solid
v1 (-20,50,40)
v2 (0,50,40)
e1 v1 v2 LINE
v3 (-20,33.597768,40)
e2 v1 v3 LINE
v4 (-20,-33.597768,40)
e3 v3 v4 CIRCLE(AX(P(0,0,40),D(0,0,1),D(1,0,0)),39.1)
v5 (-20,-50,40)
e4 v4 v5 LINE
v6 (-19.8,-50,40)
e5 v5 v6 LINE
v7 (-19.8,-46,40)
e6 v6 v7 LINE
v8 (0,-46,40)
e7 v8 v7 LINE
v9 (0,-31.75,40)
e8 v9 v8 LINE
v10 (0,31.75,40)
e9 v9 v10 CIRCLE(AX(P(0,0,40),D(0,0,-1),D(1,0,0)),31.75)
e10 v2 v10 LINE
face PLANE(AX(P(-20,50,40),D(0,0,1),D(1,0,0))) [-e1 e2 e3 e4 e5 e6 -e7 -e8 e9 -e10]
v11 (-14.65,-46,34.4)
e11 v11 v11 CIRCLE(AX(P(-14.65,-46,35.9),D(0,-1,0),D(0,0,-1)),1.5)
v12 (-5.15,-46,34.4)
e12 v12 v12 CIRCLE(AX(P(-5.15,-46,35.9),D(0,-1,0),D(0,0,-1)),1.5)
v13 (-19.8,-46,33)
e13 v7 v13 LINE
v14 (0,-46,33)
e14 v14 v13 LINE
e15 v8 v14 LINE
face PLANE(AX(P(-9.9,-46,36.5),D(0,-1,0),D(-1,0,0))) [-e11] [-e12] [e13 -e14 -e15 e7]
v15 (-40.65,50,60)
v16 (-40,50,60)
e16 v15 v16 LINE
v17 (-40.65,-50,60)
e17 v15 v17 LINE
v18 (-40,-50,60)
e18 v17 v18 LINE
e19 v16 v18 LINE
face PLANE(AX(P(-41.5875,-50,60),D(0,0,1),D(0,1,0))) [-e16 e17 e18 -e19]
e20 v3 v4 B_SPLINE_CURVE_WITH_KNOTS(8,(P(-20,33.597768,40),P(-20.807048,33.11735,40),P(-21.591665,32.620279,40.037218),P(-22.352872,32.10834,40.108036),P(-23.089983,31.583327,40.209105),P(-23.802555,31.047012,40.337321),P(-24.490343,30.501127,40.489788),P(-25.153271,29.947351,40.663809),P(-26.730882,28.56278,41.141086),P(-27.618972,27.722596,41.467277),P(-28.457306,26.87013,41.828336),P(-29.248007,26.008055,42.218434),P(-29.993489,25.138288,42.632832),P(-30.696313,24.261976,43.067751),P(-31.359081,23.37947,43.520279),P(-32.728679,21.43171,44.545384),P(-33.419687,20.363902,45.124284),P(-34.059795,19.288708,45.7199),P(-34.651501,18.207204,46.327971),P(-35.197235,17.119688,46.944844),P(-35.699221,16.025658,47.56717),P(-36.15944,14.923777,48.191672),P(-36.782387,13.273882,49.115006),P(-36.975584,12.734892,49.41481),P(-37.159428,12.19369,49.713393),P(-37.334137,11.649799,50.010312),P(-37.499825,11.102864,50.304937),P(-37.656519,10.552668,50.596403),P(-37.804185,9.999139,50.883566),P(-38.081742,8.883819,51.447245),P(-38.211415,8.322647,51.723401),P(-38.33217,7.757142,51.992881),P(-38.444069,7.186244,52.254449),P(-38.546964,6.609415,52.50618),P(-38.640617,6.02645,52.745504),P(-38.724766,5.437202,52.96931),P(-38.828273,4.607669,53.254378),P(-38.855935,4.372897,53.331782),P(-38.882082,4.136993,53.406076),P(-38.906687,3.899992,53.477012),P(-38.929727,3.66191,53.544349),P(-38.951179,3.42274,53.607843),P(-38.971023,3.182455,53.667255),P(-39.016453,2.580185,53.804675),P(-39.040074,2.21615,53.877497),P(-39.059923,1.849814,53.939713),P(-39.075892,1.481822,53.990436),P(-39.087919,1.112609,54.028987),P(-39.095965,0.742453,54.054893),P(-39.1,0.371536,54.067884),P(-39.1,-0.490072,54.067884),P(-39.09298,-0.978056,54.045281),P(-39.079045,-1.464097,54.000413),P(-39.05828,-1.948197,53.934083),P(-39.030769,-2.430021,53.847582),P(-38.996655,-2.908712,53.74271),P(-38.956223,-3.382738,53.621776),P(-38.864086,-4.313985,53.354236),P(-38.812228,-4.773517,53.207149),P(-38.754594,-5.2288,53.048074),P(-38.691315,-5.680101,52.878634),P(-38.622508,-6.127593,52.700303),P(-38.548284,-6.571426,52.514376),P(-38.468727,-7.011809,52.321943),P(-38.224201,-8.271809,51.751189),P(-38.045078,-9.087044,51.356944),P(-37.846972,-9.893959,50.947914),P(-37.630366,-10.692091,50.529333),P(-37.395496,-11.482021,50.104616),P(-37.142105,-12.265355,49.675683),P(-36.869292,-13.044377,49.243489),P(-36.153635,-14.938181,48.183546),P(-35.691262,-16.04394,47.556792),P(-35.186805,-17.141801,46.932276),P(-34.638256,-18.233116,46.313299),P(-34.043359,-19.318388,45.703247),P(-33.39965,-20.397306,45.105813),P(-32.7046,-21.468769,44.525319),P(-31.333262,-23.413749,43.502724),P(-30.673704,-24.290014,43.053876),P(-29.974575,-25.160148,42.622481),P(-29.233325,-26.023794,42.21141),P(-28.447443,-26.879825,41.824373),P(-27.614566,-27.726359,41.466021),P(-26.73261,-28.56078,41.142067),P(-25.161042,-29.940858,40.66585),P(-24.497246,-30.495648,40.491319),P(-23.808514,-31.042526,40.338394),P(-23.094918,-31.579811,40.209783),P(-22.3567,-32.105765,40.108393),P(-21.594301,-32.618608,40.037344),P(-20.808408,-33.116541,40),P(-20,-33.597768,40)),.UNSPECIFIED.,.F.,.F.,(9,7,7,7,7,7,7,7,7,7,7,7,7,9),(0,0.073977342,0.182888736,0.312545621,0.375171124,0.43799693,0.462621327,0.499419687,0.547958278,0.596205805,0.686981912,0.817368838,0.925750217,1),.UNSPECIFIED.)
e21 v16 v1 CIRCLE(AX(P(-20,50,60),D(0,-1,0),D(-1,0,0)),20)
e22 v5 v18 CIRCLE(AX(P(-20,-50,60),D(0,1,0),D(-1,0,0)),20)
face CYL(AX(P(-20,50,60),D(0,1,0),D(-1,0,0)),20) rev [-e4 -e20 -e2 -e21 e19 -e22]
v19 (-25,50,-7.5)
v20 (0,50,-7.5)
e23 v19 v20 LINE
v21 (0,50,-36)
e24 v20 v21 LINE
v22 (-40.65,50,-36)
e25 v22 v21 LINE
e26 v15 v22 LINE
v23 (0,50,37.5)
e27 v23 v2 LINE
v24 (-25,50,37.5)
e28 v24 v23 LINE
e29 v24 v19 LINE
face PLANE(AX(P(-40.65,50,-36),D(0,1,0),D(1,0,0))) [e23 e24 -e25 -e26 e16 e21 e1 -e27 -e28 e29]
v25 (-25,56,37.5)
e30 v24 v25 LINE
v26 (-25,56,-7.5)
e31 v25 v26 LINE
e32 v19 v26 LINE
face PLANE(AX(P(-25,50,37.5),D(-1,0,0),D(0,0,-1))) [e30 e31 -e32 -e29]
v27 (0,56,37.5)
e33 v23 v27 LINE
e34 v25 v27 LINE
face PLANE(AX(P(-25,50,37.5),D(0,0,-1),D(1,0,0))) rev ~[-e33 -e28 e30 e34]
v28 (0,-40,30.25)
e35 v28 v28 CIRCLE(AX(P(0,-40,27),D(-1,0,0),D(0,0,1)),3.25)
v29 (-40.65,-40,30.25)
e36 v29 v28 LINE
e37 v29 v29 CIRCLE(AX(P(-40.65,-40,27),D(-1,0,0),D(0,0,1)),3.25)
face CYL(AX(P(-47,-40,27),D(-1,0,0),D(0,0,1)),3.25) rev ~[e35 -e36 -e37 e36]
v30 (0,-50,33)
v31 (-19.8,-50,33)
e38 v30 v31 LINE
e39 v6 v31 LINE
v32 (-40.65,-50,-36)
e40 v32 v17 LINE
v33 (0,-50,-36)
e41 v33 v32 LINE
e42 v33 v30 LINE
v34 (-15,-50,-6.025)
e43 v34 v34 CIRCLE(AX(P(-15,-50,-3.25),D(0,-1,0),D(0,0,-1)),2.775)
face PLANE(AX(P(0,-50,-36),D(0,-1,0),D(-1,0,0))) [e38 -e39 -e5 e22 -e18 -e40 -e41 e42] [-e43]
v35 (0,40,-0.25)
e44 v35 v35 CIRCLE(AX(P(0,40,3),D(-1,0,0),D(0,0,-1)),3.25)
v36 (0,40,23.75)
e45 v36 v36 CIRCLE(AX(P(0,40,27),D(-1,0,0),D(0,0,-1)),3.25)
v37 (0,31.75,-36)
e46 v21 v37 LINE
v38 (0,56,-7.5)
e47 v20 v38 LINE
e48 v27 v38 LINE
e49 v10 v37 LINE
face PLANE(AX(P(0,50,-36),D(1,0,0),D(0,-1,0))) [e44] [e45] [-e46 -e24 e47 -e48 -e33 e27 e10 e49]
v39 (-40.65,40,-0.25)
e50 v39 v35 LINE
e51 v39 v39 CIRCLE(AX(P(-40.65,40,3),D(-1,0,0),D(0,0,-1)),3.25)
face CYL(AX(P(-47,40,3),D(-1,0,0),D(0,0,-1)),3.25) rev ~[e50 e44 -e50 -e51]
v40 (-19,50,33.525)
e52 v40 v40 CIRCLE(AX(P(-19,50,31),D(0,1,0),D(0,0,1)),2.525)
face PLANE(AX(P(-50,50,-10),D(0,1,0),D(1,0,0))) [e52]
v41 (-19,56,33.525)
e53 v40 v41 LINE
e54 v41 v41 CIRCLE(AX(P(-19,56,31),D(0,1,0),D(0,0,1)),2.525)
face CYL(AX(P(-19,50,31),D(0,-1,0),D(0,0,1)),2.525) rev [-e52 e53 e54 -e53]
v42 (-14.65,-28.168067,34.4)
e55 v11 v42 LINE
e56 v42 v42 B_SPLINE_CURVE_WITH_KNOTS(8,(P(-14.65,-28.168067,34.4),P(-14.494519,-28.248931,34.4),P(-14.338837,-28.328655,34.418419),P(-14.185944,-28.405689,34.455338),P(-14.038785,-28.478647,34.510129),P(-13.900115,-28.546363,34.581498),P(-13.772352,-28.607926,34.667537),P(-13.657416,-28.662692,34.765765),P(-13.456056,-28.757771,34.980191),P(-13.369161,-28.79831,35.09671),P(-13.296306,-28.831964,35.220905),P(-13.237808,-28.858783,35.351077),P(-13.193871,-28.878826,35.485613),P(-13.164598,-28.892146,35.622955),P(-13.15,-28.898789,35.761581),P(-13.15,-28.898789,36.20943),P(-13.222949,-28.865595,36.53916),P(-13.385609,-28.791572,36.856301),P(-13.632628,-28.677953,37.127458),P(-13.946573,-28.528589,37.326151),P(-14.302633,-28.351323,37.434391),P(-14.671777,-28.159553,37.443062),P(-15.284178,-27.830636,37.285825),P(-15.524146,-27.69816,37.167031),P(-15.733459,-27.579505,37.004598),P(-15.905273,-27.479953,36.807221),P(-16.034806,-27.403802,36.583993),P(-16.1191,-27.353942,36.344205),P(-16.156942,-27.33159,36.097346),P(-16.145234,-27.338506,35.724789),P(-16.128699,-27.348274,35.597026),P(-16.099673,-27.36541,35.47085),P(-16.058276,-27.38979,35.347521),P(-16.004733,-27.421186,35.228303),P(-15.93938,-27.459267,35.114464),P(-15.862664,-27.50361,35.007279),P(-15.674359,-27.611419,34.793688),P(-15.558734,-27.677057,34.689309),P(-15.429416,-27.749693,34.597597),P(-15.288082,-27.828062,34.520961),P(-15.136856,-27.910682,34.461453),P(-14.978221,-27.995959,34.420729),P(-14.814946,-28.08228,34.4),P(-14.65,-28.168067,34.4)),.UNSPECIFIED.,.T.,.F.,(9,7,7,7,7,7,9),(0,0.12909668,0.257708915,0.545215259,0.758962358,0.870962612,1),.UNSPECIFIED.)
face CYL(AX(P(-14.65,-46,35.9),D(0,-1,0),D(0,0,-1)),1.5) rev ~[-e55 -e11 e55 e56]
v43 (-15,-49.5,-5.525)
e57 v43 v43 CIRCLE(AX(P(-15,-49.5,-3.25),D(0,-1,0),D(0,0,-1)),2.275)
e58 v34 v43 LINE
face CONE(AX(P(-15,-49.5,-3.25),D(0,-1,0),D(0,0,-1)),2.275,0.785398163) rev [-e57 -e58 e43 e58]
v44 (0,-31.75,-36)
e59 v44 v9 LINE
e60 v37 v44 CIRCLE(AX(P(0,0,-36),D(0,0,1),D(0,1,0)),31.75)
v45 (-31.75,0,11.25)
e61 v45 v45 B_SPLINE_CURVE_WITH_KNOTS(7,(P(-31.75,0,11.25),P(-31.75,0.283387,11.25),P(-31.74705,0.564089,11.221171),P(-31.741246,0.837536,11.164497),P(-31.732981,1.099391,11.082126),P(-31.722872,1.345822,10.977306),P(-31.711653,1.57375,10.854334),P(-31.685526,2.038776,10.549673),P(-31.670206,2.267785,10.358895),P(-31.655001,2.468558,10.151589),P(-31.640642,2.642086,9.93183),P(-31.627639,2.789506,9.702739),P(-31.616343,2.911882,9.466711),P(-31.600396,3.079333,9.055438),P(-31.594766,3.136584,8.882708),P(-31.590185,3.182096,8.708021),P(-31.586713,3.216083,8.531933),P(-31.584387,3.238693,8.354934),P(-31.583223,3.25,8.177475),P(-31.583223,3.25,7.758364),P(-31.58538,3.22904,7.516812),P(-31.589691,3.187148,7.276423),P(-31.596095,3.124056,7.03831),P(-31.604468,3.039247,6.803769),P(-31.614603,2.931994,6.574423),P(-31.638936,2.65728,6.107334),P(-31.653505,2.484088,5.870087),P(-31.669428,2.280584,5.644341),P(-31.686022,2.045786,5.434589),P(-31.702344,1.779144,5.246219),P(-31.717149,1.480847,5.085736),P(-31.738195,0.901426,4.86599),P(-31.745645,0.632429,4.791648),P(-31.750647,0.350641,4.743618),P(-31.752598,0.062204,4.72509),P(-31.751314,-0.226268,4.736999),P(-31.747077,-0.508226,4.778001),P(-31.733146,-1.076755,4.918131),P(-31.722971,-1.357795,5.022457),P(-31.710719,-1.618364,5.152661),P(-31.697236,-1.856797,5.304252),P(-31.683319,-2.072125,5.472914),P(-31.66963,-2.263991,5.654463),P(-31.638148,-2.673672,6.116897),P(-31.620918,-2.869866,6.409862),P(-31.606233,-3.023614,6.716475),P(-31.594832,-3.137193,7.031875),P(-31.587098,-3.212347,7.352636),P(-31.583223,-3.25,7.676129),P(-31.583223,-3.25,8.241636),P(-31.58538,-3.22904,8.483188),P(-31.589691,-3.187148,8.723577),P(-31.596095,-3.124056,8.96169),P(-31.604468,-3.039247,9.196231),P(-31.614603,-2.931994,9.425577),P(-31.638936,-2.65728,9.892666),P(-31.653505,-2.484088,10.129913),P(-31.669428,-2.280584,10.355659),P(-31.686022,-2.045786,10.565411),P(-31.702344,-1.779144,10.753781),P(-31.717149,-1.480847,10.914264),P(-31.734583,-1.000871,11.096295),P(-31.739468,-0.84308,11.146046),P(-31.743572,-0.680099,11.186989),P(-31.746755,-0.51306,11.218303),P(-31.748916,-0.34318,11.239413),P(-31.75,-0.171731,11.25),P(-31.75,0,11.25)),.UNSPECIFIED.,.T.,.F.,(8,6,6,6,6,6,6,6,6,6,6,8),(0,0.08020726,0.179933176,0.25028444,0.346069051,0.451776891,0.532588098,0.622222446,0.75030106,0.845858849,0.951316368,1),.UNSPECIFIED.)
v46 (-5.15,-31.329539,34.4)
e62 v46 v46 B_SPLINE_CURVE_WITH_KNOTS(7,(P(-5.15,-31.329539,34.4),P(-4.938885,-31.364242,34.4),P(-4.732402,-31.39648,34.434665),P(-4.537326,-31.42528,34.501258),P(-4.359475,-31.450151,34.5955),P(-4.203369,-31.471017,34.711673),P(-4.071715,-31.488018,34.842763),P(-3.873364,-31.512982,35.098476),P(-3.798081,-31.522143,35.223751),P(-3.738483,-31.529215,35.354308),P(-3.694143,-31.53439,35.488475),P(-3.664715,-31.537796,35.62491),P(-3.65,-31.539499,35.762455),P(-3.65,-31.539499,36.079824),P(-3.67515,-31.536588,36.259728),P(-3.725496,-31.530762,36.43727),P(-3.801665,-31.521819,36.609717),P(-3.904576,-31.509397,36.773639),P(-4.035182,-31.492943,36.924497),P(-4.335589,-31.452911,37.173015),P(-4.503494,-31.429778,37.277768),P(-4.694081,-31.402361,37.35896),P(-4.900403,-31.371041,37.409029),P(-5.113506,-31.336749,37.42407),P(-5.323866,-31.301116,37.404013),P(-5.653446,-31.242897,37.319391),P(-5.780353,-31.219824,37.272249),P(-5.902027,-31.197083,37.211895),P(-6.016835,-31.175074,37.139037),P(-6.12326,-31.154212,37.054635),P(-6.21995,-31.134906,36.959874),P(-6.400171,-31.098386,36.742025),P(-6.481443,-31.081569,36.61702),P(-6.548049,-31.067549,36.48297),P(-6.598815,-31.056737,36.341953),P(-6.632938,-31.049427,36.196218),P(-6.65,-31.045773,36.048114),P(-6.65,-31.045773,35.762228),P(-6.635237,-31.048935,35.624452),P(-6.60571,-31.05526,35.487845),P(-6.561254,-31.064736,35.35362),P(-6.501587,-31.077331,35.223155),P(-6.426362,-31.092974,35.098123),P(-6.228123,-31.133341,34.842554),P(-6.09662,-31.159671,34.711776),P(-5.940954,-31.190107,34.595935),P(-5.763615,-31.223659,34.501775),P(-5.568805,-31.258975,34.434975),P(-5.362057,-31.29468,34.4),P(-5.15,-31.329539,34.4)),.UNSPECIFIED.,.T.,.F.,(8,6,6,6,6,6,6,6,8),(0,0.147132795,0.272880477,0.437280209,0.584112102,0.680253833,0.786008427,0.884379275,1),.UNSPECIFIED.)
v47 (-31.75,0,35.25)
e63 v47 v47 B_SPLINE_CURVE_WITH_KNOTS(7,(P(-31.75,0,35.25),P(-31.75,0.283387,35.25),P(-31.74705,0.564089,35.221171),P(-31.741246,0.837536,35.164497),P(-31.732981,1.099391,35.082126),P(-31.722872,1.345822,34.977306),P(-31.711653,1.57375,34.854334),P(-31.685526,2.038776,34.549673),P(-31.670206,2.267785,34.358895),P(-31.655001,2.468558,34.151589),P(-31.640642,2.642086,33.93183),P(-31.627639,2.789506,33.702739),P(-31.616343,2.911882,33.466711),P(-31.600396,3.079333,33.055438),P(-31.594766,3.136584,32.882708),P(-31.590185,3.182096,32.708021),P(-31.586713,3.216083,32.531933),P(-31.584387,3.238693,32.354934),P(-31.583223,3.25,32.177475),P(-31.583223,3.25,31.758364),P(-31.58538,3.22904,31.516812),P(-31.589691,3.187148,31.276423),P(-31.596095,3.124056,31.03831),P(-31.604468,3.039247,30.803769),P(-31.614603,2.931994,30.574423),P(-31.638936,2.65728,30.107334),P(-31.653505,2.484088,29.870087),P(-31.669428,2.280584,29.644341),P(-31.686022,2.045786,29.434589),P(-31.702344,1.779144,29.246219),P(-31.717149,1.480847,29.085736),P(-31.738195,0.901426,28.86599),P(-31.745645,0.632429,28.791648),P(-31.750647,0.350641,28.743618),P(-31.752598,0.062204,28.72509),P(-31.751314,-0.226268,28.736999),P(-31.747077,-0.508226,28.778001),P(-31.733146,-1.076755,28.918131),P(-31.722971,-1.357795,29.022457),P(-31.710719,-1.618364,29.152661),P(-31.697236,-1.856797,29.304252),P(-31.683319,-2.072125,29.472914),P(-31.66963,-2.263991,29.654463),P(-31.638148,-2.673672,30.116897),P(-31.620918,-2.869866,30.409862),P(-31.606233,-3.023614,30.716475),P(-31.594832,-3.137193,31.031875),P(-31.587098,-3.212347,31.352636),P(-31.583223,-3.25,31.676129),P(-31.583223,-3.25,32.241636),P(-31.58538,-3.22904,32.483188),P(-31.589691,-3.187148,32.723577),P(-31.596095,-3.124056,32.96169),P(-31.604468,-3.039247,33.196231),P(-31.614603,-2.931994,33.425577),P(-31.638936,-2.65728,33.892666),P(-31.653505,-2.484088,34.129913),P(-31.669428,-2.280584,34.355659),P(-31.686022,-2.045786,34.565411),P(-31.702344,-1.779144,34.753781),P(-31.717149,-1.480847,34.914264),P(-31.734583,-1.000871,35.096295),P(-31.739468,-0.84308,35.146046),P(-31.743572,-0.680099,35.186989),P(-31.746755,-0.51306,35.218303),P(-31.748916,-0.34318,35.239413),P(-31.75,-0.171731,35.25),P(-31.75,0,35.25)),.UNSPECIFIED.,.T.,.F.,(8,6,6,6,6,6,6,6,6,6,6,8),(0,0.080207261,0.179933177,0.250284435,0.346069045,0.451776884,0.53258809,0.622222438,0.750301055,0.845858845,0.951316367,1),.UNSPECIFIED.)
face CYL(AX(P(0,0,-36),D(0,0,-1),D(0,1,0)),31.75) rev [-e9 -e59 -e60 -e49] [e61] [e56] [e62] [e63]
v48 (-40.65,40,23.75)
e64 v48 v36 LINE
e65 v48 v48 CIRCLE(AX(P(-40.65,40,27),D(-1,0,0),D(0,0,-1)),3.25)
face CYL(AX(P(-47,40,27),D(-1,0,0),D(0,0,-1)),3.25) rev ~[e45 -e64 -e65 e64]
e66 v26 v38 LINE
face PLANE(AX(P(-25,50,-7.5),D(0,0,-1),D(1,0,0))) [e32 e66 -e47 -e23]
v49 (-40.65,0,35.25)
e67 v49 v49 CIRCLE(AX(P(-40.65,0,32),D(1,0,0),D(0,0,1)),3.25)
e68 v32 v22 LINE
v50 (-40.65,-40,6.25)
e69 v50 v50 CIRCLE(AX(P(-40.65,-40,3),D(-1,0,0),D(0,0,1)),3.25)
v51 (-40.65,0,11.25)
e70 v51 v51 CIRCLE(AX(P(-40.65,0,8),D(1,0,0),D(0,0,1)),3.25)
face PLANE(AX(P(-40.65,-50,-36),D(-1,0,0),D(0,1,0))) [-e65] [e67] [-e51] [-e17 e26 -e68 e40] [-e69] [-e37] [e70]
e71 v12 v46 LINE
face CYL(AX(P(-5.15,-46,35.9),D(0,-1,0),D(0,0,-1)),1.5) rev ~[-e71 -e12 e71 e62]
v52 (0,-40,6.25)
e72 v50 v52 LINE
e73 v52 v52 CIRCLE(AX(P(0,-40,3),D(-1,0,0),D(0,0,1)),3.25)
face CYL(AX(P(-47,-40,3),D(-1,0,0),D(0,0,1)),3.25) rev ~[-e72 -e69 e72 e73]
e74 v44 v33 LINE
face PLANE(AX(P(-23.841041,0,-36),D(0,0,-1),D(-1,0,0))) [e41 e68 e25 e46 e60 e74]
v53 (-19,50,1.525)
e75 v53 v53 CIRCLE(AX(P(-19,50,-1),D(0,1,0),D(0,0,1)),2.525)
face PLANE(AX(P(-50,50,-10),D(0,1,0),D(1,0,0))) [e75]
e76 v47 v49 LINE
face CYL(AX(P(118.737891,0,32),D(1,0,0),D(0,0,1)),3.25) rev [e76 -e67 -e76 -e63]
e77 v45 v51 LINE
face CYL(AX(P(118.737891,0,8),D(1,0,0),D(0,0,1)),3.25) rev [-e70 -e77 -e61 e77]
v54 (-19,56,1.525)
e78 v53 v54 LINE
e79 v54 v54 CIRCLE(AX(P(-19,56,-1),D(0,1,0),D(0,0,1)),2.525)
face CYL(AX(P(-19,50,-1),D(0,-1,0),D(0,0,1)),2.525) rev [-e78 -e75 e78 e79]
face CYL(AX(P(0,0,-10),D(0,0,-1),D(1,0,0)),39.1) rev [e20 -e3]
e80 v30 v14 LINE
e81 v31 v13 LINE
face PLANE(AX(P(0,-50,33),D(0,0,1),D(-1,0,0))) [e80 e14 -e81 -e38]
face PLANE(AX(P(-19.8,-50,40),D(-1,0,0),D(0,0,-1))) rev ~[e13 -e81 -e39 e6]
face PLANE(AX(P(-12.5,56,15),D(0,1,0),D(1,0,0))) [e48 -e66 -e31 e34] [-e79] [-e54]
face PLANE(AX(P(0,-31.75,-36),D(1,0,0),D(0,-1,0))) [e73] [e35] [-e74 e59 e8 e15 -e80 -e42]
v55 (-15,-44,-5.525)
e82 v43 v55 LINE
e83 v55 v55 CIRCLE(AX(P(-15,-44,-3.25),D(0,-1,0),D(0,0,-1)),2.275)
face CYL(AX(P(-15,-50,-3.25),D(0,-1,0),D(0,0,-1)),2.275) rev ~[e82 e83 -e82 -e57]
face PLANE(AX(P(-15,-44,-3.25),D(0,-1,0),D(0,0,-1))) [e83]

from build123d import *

# Parameters (mm, degrees)
CENTRE_HOLE_FOR_L2_DEPTH      = 40
CENTRE_HOLE_FOR_L2_DEPTH_BACK = 10
SKETCH1_R                     = 39.1
SKETCH1_R_2                   = 31.75
MAIN_STRUCTURE_DEPTH          = 60
MAIN_STRUCTURE_DEPTH_BACK     = 50
SKETCH2_W                     = 100
SKETCH2_H                     = 100
SKETCH2_R                     = 39.1
BEARING_CURVE_DEPTH           = 10
SKETCH6_R                     = 10.5
SHAFT_HOLE_DEPTH              = 10
WRIST_CUTOUT_DEPTH            = 188.082869339
SKETCH11_W                    = 25
SKETCH11_H                    = 45
SKETCH11_R                    = 2.525
BOSS_EXTRUDE1_DEPTH           = 6
SKETCH15_W                    = 19.8
SKETCH15_H                    = 7
CUT_EXTRUDE4_DEPTH            = 4
CUT_EXTRUDE5_REACH            = 190.16
CUT_EXTRUDE5_END_RADIUS       = 31.75
SKETCH16_R                    = 1.5
CUT_EXTRUDE6_DEPTH            = 168.7378908
CUT_EXTRUDE6_DEPTH_BACK       = 168.7378908
SKETCH18_R                    = 3.25
CUT_EXTRUDE7_START            = -1.5875
CUT_EXTRUDE7_DEPTH            = 1.5875
SKETCH9_R                     = 12.05
BEARING_DEPTH                 = 5
CUT_EXTRUDE8_DEPTH            = 3
SKETCH21_R                    = 3.25
SKETCH21_R_2                  = 1.65
CUT_EXTRUDE9_DEPTH            = 167.868211501
CUT_EXTRUDE10_DEPTH           = 6.35
SKETCH23_R                    = 2.275
CUT_EXTRUDE11_DEPTH           = 6
CHAMFER1_SIZE                 = 0.5
BOSS_EXTRUDE2_START           = 26
BOSS_EXTRUDE2_DEPTH           = 26


with BuildPart() as part:
    # Sketch1 → Centre Hole for L2 (new, two sides: drawn at the far end of the back side and taken through both)
    with BuildSketch(Plane.XY.offset(-CENTRE_HOLE_FOR_L2_DEPTH_BACK)):
        Circle(SKETCH1_R)
        Circle(SKETCH1_R_2, mode=Mode.SUBTRACT)
    extrude(amount=CENTRE_HOLE_FOR_L2_DEPTH + CENTRE_HOLE_FOR_L2_DEPTH_BACK)

    # Sketch2 → Main Structure (add, two sides: drawn at the far end of the back side and taken through both)
    with BuildSketch(Plane.XY.offset(40).offset(-MAIN_STRUCTURE_DEPTH_BACK)):
        Rectangle(SKETCH2_W, SKETCH2_H)
        Circle(SKETCH2_R, mode=Mode.SUBTRACT)
    extrude(amount=MAIN_STRUCTURE_DEPTH + MAIN_STRUCTURE_DEPTH_BACK)

    # Sketch3 → Bearing Curve (add)
    with BuildSketch(Plane.ZY.offset(50)):
        with BuildLine():
            Line((100, 50), (100, -50))
            ThreePointArc((100, -50), (150, 0), (100, 50))
        make_face()
    bearing_curve = extrude(amount=-BEARING_CURVE_DEPTH)

    # Upright Mirror: Bearing Curve across plane
    add(bearing_curve.mirror(Plane(origin=(0, 0, 0), x_dir=(0, 0, 1), z_dir=(1, 0, 0))))

    # Sketch6 → Shaft Hole (cut)
    with BuildSketch(Plane.ZY.offset(50)):
        with Locations((100, 0)):
            Circle(SKETCH6_R)
    extrude(amount=-SHAFT_HOLE_DEPTH, mode=Mode.SUBTRACT)

    # Sketch4 → Wrist Cutout (cut, through all)
    with BuildSketch(Plane(origin=(0, 50, 0), x_dir=(1, 0, 0), z_dir=(0, 1, 0))):
        with BuildLine():
            Line((-40, -100), (-40, -60))
            ThreePointArc((-40, -60), (-34.142135624, -45.857864376), (-20, -40))
            Line((-20, -40), (20, -40))
            ThreePointArc((20, -40), (34.142135624, -45.857864376), (40, -60))
            Line((40, -60), (40, -100))
            Line((40, -100), (-40, -100))
        make_face()
    extrude(amount=-WRIST_CUTOUT_DEPTH, mode=Mode.SUBTRACT)

    # SurfaceCut1
    split(bisect_by=Plane.ZY, keep=Keep.TOP)

    # Sketch11 → Boss-Extrude1 (add)
    with BuildSketch(Plane(origin=(0, 50, 0), x_dir=(1, 0, 0), z_dir=(0, 1, 0))):
        with Locations((-12.5, -15)):
            Rectangle(SKETCH11_W, SKETCH11_H)
        with Locations(Location((-19, 1, 0), (0, 0, 270))):
            Circle(SKETCH11_R, mode=Mode.SUBTRACT)
        with Locations(Location((-19, -31, 0), (0, 0, 270))):
            Circle(SKETCH11_R, mode=Mode.SUBTRACT)
    extrude(amount=BOSS_EXTRUDE1_DEPTH)

    # Sketch15 → Cut-Extrude4 (cut)
    with BuildSketch(Plane(origin=(0, -50, 0), x_dir=(-1, 0, 0), z_dir=(0, -1, 0))):
        with Locations((9.9, -36.5)):
            Rectangle(SKETCH15_W, SKETCH15_H)
    extrude(amount=-CUT_EXTRUDE4_DEPTH, mode=Mode.SUBTRACT)

    # Cut-Extrude5: up to this cylinder (the profile starts outside it)
    cut_extrude5_end = Plane(origin=(0, 0, 35.9), z_dir=(0, 0, 1)) * Cylinder(CUT_EXTRUDE5_END_RADIUS, 444.82, mode=Mode.PRIVATE)
    # Sketch16 → Cut-Extrude5 (cut, up to the surface)
    with BuildSketch(Plane(origin=(0, -46, 0), x_dir=(-1, 0, 0), z_dir=(0, -1, 0)), mode=Mode.PRIVATE) as cut_extrude5_sk1:
        with Locations(Location((14.65, -35.9, 0), (0, 0, 90))):
            Circle(SKETCH16_R)
    cut_extrude5_tool1 = extrude(cut_extrude5_sk1.sketch, amount=-CUT_EXTRUDE5_REACH, mode=Mode.PRIVATE) - cut_extrude5_end
    add(cut_extrude5_tool1.solids().sort_by_distance((-14.65, -46, 35.9))[0], mode=Mode.SUBTRACT)
    # Sketch16 → Cut-Extrude5 (cut, up to the surface)
    with BuildSketch(Plane(origin=(0, -46, 0), x_dir=(-1, 0, 0), z_dir=(0, -1, 0)), mode=Mode.PRIVATE) as cut_extrude5_sk2:
        with Locations(Location((5.15, -35.9, 0), (0, 0, 90))):
            Circle(SKETCH16_R)
    cut_extrude5_tool2 = extrude(cut_extrude5_sk2.sketch, amount=-CUT_EXTRUDE5_REACH, mode=Mode.PRIVATE) - cut_extrude5_end
    add(cut_extrude5_tool2.solids().sort_by_distance((-5.15, -46, 35.9))[0], mode=Mode.SUBTRACT)

    # Sketch18 → Cut-Extrude6 (cut, two sides: drawn at the far end of the back side and taken through both)
    with BuildSketch(Plane.ZY.offset(50).offset(-CUT_EXTRUDE6_DEPTH_BACK)):
        with Locations((8, 0)):
            Circle(SKETCH18_R)
        with Locations((32, 0)):
            Circle(SKETCH18_R)
    extrude(amount=CUT_EXTRUDE6_DEPTH + CUT_EXTRUDE6_DEPTH_BACK, mode=Mode.SUBTRACT)

    # Sketch19 → Cut-Extrude7 (cut)
    with BuildSketch(Plane(origin=(-40, 0, 0), x_dir=(0, 0, -1), z_dir=(1, 0, 0)).offset(CUT_EXTRUDE7_START)):
        with BuildLine():
            Line((-60, 50), (-100, 50))
            ThreePointArc((-100, 50), (-150, 0), (-100, -50))
            Line((-100, -50), (-60, -50))
            Line((-60, -50), (-60, 50))
        make_face()
    extrude(amount=CUT_EXTRUDE7_DEPTH, mode=Mode.SUBTRACT)

    # Sketch9 → Bearing (cut)
    with BuildSketch(Plane(origin=(-41.5875, 0, 0), x_dir=(0, 0, -1), z_dir=(1, 0, 0))):
        with Locations((-100, 0)):
            Circle(SKETCH9_R)
    extrude(amount=-BEARING_DEPTH, mode=Mode.SUBTRACT)

    # Sketch20 → Cut-Extrude8 (cut)
    with BuildSketch(Plane.ZY.offset(50)):
        with BuildLine():
            Line((-10, -50), (100, -50))
            ThreePointArc((100, -50), (150, 0), (100, 50))
            Line((100, 50), (-10, 50))
            Line((-10, 50), (-10, -50))
        make_face()
    extrude(amount=-CUT_EXTRUDE8_DEPTH, mode=Mode.SUBTRACT)

    # Sketch21 → Cut-Extrude9 (cut, through all)
    with BuildSketch(Plane.ZY.offset(47)):
        with Locations((3, -40)):
            Circle(SKETCH21_R)
        with Locations((27, -40)):
            Circle(SKETCH21_R)
        with Locations(Location((27, 40, 0), (0, 0, 180))):
            Circle(SKETCH21_R)
        with Locations(Location((3, 40, 0), (0, 0, 180))):
            Circle(SKETCH21_R)
        with Locations((125, 0)):
            Circle(SKETCH21_R_2)
    extrude(amount=-CUT_EXTRUDE9_DEPTH, mode=Mode.SUBTRACT)

    # Sketch22 → Cut-Extrude10 (cut)
    with BuildSketch(Plane.ZY.offset(47)):
        with BuildLine():
            Line((-10, 50), (-10, -50))
            Line((-10, -50), (100, -50))
            ThreePointArc((100, -50), (150, 0), (100, 50))
            Line((100, 50), (-10, 50))
        make_face()
    extrude(amount=-CUT_EXTRUDE10_DEPTH, mode=Mode.SUBTRACT)

    # Sketch23 → Cut-Extrude11 (cut)
    with BuildSketch(Plane(origin=(0, -50, 0), x_dir=(-1, 0, 0), z_dir=(0, -1, 0))):
        with Locations(Location((15, 3.25, 0), (0, 0, 90))):
            Circle(SKETCH23_R)
    extrude(amount=-CUT_EXTRUDE11_DEPTH, mode=Mode.SUBTRACT)

    # Chamfer1
    chamfer1_edges = [part.edges().sort_by_distance(p)[0] for p in [
        (-15, -50, -0.975),
    ]]
    chamfer(chamfer1_edges, length=CHAMFER1_SIZE)

    # Sketch24 → Boss-Extrude2 (add)
    with BuildSketch(Plane(origin=(0, 0, -10), x_dir=(-1, 0, 0), z_dir=(0, 0, -1)).offset(BOSS_EXTRUDE2_START)):
        with BuildLine():
            Line((40.65, -50), (40.65, 50))
            Line((40.65, 50), (0, 50))
            Line((0, 50), (0, 31.75))
            ThreePointArc((0, 31.75), (31.75, 0), (0, -31.75))
            Line((0, -31.75), (0, -50))
            Line((0, -50), (40.65, -50))
        make_face()
    extrude(amount=-BOSS_EXTRUDE2_DEPTH)


solid = part.part
